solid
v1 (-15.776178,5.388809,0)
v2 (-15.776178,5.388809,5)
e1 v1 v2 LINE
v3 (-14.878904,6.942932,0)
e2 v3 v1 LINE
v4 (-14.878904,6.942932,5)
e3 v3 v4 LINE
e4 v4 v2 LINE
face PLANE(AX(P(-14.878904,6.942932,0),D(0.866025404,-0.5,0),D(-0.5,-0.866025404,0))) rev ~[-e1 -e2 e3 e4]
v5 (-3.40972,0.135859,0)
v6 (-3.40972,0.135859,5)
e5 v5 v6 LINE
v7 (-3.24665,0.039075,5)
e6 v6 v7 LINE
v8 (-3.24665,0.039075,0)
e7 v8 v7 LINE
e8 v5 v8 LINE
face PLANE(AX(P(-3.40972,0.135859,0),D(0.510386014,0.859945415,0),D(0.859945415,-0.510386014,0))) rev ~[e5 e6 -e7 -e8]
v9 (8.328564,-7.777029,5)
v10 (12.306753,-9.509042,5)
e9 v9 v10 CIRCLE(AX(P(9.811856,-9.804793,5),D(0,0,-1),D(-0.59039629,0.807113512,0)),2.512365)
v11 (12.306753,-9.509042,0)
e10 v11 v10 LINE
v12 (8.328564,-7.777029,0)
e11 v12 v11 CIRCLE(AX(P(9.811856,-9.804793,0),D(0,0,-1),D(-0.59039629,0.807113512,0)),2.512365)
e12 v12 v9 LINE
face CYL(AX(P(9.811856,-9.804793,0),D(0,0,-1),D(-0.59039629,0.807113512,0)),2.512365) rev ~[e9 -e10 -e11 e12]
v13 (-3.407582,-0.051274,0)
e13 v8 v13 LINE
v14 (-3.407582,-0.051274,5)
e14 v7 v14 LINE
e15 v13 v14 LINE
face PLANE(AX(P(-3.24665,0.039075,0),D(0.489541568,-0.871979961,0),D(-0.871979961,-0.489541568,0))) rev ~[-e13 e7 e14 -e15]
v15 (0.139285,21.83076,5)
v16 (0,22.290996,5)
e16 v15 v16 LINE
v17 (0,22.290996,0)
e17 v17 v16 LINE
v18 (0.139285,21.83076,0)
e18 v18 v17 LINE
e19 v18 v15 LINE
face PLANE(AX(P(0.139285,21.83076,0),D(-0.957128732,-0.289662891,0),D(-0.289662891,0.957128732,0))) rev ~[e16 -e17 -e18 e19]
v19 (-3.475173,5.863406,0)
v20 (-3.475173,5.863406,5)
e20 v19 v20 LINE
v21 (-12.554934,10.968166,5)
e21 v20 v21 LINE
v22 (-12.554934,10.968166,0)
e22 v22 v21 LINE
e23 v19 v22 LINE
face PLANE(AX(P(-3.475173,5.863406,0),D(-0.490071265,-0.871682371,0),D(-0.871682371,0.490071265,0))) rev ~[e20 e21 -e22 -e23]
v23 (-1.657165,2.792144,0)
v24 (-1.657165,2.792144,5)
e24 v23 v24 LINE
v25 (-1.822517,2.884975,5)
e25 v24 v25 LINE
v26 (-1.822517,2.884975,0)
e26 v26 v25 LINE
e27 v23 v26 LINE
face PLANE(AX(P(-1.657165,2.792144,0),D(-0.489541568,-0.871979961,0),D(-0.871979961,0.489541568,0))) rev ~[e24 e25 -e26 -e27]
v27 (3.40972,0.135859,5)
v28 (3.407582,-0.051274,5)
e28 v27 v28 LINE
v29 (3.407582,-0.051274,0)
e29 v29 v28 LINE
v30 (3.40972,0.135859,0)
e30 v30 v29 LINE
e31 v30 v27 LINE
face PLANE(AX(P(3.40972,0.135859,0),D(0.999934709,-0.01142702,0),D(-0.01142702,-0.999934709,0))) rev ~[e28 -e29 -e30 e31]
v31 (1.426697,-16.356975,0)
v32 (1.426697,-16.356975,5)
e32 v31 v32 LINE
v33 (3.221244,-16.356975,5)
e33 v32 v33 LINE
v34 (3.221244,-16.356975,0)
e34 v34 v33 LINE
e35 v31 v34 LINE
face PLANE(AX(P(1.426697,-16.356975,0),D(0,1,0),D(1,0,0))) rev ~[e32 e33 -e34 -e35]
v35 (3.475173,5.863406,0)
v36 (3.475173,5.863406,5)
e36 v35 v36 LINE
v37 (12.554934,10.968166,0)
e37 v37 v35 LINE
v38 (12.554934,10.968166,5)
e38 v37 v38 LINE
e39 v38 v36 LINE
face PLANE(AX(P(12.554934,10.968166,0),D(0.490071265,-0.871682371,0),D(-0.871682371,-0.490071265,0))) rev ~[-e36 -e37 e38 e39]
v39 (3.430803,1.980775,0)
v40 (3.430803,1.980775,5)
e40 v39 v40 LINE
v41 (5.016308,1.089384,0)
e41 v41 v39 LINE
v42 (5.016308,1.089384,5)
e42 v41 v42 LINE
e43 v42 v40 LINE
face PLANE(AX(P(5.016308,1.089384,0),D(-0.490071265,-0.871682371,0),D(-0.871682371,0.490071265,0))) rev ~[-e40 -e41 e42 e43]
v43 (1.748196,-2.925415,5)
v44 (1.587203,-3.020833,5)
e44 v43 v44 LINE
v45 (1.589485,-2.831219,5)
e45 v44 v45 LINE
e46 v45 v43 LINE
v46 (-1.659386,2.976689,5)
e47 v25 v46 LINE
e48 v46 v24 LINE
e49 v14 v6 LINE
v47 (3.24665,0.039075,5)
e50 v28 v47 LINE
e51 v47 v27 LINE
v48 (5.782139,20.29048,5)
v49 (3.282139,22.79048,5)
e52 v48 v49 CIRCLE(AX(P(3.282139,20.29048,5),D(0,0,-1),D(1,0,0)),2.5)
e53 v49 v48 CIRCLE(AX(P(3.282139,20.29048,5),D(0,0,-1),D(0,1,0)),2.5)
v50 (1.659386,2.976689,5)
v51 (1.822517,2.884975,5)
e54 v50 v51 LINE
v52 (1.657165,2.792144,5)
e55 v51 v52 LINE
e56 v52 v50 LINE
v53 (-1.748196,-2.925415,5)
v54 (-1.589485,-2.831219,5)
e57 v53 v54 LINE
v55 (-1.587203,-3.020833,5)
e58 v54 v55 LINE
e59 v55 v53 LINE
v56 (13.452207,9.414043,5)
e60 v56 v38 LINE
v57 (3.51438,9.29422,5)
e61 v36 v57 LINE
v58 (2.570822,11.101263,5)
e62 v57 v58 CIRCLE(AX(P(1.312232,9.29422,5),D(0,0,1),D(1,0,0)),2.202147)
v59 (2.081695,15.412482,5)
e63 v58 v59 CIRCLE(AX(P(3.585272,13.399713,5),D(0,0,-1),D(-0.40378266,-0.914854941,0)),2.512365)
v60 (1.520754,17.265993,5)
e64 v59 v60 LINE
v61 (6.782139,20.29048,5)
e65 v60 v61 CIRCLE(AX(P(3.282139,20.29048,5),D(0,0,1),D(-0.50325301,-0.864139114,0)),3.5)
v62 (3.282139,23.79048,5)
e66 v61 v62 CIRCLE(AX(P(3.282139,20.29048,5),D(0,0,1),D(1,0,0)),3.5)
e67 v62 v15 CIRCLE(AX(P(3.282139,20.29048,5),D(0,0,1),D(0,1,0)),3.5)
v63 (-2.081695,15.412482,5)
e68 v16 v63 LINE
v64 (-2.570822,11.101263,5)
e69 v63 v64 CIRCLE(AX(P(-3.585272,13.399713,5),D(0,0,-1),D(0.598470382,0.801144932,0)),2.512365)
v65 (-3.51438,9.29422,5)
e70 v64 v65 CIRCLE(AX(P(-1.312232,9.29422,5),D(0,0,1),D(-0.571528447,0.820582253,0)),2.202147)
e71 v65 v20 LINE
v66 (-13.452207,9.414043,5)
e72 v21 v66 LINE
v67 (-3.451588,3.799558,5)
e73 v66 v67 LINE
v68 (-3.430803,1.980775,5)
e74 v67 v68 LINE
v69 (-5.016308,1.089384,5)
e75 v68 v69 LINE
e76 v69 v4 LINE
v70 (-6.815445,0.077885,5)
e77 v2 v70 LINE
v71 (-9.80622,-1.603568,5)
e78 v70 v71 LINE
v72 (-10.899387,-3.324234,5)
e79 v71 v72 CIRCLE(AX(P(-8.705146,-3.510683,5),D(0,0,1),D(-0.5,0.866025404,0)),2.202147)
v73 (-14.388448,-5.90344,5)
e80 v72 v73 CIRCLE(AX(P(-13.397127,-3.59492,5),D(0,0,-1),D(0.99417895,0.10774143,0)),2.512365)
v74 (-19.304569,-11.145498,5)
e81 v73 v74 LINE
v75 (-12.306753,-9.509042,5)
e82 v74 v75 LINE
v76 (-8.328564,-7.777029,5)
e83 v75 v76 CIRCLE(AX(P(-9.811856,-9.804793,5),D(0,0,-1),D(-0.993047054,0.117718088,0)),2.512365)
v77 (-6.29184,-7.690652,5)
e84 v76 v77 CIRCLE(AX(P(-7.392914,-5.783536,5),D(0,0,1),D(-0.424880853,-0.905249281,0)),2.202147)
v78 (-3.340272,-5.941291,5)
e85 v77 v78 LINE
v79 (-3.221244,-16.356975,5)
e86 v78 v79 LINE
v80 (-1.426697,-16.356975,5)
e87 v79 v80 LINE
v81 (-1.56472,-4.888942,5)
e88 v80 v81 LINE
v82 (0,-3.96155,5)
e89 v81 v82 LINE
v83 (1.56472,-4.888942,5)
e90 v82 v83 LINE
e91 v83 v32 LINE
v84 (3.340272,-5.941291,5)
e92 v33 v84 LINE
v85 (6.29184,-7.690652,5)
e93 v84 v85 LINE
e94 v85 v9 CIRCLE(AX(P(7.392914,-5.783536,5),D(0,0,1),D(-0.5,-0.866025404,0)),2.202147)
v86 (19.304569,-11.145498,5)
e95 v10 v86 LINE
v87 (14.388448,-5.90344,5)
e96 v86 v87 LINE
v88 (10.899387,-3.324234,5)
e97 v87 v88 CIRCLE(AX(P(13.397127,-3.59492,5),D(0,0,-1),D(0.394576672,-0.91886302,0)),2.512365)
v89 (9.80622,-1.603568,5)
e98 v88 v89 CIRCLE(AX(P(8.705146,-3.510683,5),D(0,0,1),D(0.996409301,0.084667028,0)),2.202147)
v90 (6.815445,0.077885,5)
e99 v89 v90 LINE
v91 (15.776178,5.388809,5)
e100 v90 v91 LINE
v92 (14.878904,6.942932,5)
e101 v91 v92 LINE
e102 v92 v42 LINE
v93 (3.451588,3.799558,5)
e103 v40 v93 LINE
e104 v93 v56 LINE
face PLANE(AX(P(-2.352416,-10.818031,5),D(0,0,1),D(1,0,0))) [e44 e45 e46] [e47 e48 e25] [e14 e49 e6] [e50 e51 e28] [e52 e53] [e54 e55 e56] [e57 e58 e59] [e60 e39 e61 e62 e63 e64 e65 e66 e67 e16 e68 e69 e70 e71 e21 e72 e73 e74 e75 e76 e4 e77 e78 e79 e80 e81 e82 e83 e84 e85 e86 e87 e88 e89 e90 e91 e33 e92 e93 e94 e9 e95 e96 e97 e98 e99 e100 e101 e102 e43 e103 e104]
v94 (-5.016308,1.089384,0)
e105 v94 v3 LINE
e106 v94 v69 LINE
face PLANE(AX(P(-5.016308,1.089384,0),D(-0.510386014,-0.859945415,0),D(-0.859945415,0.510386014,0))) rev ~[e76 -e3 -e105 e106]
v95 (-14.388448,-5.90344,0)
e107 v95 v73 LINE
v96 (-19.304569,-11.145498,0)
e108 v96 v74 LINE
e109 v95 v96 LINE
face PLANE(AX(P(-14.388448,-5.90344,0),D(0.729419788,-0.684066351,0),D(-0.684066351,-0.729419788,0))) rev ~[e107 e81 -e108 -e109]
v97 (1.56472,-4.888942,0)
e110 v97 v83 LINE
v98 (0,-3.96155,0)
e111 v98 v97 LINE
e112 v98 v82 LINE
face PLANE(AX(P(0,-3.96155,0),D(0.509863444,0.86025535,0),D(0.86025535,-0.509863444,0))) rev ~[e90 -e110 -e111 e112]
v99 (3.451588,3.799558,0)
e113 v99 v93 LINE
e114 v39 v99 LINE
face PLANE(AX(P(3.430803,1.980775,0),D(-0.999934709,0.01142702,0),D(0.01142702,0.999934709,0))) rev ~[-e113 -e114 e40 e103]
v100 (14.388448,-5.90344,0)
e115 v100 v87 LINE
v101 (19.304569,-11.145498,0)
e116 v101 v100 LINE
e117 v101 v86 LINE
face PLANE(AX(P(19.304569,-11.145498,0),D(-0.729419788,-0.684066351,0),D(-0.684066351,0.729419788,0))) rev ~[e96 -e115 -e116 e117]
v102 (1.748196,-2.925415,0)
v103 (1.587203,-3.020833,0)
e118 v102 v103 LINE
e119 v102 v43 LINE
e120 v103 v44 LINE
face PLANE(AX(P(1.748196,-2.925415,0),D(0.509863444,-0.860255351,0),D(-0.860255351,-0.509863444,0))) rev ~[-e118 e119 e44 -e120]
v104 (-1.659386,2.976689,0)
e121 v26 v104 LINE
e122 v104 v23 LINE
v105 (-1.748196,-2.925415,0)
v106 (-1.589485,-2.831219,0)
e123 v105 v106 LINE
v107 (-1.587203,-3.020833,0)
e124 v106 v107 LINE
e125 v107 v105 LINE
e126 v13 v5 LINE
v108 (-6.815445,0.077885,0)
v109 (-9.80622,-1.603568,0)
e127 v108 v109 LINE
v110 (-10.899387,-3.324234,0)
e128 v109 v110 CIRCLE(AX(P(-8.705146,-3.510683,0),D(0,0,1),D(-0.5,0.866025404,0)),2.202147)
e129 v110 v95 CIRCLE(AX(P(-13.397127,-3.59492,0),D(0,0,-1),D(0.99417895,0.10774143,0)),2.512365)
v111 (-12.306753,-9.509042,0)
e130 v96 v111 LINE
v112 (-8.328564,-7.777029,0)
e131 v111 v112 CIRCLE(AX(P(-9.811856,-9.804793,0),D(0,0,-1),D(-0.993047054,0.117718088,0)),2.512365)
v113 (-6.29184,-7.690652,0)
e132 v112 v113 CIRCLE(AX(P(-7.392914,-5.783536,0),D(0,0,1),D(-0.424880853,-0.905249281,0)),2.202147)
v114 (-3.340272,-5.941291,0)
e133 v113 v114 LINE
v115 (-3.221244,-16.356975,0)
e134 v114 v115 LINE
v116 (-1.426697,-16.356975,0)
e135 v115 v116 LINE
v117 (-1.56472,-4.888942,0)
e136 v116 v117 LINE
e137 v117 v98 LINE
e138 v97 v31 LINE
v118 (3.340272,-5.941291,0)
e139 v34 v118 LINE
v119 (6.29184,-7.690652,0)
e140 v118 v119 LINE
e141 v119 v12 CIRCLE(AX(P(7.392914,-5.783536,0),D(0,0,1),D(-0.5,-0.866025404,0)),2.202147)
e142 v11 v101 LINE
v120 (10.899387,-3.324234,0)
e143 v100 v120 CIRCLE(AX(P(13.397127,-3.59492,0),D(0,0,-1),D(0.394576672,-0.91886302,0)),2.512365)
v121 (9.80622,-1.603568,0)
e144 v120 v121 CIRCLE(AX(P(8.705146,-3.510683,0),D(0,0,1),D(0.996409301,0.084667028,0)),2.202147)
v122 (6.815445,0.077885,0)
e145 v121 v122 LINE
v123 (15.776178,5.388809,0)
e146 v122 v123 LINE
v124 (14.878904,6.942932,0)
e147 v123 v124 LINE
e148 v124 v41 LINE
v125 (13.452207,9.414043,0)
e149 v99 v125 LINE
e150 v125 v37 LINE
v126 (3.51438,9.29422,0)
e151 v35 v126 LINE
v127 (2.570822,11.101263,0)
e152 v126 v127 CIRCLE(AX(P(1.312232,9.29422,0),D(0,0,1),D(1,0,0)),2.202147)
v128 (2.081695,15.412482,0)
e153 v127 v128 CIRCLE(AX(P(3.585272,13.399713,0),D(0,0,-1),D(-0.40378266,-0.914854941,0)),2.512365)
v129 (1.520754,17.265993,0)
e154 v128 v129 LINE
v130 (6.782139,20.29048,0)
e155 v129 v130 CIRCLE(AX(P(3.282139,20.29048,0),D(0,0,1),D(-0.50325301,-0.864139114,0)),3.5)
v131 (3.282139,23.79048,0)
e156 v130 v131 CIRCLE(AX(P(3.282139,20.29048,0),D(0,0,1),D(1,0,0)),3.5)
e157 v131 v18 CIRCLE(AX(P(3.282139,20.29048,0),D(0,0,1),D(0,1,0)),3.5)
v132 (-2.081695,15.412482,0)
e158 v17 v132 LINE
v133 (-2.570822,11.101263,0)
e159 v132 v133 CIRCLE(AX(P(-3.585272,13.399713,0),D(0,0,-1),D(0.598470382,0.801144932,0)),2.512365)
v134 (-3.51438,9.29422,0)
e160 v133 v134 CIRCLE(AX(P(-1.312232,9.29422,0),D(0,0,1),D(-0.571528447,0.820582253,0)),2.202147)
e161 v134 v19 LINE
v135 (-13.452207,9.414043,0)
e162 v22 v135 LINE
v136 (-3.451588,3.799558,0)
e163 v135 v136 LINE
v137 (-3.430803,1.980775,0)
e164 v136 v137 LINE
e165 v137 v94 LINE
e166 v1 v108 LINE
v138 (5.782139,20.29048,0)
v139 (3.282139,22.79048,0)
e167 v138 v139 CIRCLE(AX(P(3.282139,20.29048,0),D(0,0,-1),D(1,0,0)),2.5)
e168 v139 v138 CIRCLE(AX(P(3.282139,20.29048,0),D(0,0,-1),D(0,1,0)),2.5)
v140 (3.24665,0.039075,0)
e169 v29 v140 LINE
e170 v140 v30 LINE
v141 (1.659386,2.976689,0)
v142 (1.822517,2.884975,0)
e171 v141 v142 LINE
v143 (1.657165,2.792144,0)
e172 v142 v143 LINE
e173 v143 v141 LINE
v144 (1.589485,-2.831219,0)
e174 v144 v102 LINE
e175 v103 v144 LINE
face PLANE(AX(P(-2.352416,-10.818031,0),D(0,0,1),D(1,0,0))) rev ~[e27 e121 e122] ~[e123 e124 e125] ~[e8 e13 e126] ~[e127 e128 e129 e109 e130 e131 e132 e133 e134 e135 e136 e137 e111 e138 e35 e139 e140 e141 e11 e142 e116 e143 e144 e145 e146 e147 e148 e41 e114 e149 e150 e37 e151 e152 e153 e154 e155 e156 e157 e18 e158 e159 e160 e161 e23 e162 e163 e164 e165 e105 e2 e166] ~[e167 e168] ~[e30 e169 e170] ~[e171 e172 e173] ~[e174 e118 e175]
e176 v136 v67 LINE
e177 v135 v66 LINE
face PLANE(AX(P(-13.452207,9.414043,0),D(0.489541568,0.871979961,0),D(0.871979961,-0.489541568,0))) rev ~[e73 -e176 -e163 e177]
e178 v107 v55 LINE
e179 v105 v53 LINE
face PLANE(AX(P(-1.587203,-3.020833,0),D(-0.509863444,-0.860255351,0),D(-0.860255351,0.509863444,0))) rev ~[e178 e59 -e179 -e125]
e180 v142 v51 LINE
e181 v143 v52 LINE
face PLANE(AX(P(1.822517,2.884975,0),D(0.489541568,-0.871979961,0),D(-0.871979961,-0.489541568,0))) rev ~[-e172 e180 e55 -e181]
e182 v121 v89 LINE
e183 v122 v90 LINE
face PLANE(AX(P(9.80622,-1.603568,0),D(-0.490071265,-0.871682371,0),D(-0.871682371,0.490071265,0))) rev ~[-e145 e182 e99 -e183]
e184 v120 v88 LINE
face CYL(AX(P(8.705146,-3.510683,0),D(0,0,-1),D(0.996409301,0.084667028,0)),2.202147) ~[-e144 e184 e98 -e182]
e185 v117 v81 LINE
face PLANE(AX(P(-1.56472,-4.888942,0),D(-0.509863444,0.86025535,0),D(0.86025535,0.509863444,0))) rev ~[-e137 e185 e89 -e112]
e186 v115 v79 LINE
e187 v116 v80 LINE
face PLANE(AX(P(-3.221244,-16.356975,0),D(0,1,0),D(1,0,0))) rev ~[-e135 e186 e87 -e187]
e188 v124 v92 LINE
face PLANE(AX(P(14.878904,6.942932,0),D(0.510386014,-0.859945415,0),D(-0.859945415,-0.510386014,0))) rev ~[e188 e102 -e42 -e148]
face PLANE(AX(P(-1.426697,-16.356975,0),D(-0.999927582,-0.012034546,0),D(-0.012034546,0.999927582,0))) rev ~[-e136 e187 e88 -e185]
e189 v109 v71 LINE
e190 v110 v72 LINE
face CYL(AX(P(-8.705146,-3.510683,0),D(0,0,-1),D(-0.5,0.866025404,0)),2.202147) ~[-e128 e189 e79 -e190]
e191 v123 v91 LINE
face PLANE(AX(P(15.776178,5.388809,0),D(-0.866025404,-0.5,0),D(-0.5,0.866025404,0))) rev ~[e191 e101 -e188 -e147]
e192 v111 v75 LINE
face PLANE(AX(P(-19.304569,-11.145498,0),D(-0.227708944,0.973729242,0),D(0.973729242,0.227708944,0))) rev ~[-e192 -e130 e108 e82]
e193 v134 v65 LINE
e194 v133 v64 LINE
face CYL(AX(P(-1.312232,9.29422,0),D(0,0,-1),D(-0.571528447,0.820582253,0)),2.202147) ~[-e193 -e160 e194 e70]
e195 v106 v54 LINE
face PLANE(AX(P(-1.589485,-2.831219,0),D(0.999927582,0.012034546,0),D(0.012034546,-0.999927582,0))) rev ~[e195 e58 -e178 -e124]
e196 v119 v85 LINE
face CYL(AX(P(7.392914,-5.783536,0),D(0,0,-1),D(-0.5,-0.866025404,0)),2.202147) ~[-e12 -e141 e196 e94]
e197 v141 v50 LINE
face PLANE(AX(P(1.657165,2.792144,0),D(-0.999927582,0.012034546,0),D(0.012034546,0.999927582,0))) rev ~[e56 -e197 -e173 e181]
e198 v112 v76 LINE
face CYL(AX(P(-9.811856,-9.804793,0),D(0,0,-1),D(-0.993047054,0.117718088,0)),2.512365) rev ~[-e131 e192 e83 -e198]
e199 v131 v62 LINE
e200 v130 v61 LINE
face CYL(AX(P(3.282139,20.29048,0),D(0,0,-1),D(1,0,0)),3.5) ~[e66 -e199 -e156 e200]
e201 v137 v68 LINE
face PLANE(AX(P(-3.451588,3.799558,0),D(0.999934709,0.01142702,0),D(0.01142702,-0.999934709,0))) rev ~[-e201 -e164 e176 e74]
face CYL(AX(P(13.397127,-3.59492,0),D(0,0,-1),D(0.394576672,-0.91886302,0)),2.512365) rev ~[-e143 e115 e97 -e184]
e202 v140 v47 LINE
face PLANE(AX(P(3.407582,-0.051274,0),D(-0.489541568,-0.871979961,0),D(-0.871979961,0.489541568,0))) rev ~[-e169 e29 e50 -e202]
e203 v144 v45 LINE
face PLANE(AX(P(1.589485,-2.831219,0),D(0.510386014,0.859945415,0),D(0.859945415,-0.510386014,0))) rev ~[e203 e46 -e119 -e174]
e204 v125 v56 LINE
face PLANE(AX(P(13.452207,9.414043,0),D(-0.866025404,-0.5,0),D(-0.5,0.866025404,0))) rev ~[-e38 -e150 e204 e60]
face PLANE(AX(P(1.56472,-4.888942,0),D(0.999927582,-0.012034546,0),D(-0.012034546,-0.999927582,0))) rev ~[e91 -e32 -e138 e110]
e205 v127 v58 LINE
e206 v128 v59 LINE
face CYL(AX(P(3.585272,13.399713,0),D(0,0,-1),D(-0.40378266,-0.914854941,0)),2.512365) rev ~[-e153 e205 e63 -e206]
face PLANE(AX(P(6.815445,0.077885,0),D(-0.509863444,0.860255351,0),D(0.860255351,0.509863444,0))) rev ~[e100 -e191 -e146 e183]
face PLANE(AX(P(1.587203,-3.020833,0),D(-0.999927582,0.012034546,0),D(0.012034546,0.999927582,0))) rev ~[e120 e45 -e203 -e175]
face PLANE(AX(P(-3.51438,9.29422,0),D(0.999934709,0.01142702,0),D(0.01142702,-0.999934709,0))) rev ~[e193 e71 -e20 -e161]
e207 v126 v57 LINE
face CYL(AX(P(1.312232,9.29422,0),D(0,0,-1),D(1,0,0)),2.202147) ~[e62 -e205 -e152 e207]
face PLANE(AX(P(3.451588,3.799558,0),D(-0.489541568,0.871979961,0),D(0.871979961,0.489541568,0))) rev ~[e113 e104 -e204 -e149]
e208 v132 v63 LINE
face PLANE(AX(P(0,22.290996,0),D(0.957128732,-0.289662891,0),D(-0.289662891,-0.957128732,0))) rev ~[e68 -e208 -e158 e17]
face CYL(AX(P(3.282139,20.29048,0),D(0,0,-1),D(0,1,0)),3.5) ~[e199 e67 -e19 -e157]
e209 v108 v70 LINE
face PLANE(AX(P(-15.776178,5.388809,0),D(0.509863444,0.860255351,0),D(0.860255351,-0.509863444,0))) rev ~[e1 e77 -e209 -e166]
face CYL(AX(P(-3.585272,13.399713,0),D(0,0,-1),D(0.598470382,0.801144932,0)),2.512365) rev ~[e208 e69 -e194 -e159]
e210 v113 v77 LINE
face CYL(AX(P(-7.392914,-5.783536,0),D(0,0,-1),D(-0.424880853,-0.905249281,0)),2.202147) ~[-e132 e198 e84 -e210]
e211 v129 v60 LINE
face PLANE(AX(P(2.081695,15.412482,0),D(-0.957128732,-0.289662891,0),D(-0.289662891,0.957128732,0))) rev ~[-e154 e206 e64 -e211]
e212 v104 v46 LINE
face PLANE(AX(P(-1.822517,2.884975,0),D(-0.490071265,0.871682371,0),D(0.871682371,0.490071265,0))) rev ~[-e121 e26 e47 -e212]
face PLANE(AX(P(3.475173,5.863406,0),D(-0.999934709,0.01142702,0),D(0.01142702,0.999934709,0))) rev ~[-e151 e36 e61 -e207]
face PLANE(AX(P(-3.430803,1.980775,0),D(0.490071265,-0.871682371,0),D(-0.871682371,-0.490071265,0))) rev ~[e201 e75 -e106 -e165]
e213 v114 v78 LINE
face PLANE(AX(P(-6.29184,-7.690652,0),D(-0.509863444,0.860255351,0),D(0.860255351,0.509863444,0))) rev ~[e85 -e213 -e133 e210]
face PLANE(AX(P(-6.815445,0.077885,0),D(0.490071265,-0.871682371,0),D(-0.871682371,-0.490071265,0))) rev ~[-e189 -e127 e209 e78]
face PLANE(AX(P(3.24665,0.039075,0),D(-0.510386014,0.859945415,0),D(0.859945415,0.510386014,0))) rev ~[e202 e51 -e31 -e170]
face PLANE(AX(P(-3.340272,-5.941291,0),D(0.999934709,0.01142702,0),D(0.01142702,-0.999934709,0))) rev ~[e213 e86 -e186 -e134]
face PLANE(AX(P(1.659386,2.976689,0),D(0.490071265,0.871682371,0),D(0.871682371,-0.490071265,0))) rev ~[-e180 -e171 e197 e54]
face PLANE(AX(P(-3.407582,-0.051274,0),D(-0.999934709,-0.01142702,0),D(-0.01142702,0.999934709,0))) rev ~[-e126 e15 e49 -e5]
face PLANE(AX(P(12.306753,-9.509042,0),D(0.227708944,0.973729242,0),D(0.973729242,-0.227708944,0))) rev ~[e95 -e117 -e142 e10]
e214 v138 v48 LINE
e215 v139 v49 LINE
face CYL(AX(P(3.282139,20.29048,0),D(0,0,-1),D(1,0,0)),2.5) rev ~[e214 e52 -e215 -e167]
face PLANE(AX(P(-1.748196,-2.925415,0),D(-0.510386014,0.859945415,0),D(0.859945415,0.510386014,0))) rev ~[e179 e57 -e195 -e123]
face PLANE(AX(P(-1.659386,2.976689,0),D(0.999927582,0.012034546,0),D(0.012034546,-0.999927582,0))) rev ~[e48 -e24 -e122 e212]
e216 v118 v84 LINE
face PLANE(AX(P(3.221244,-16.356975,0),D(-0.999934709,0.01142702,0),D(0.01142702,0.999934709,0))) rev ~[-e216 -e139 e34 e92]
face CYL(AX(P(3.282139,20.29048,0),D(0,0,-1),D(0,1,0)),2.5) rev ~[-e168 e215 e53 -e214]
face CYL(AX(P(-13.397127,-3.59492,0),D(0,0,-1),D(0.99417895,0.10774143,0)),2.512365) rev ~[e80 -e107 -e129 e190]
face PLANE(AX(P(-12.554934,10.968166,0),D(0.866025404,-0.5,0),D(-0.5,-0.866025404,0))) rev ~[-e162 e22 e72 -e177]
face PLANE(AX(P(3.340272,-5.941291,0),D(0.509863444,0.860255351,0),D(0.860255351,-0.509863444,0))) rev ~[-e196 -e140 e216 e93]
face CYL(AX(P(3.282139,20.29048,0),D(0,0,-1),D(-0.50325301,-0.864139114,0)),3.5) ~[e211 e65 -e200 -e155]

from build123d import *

# Parameters (mm, degrees)
F1_DEPTH = 5


with BuildPart() as f1:
    # F0 (on Top) → F1 (new body)
    with BuildSketch(Plane.XY):
        Polygon((-3.2212437924, -16.3569749735), (-1.426697038, -16.3569749735), (-1.5647196115, -4.8889417369), (-3.3402717926, -5.9412910774), align=None)
        Polygon((-3.3402717926, -5.9412910774), (-1.5647196115, -4.8889417369), (-1.5872030757, -3.0208334399), (-1.7481957552, -2.9254149319), (-3.3637788423, -3.8842792944), align=None)
        Polygon((-1.5872030757, -3.0208334399), (-1.5647196115, -4.8889417369), (0, -3.9615504336), align=None)
        with BuildLine():
            Line((-6.291840412, -7.6906518244), (-3.3402717926, -5.9412910774))
            Line((-3.3402717926, -5.9412910774), (-3.3637788423, -3.8842792944))
            Line((-3.3637788423, -3.8842792944), (-6.6341785068, -5.8252934798))
            ThreePointArc((-6.6341785068, -5.8252934798), (-7.9635745999, -6.012913211), (-9.0511064637, -5.2256587533))
            ThreePointArc((-9.0511064637, -5.2256587533), (-9.1891228915, -3.8902013029), (-8.3619413914, -2.8327203802))
            Line((-8.3619413914, -2.8327203802), (-5.0457739655, -0.9709782829))
            Line((-5.0457739655, -0.9709782829), (-6.8154449006, 0.0778853107))
            Line((-6.8154449006, 0.0778853107), (-9.8062200576, -1.6035677211))
            ThreePointArc((-9.8062200576, -1.6035677211), (-10.5638950235, -2.3297910167), (-10.8993865535, -3.3242341082))
            ThreePointArc((-10.8993865535, -3.3242341082), (-11.9036748048, -5.6152118935), (-14.3884482062, -5.9034396652))
            Line((-14.3884482062, -5.9034396652), (-19.3045690198, -11.1454981202))
            Line((-19.3045690198, -11.1454981202), (-12.3067528228, -9.509041835))
            ThreePointArc((-12.3067528228, -9.509041835), (-10.8147535498, -7.5012788326), (-8.3285644626, -7.7770285869))
            ThreePointArc((-8.3285644626, -7.7770285869), (-7.2996057177, -7.9837059449), (-6.291840412, -7.6906518244))
        make_face()
        Polygon((-1.589485169, -2.8312186468), (-1.5872030757, -3.0208334399), (0, -3.9615504336), (1.5872030757, -3.0208334399), (1.589485169, -2.8312186468), (0, -1.8878436538), align=None)
        Polygon((1.5872030757, -3.0208334399), (0, -3.9615504336), (1.5647196115, -4.8889417369), align=None)
        Polygon((1.7481957552, -2.9254149319), (1.5872030757, -3.0208334399), (1.5647196115, -4.8889417369), (3.3402717926, -5.9412910774), (3.3637788423, -3.8842792944), align=None)
        Polygon((3.3402717926, -5.9412910774), (1.5647196115, -4.8889417369), (1.426697038, -16.3569749735), (3.2212437924, -16.3569749735), align=None)
        with BuildLine():
            Line((3.3637788423, -3.8842792944), (3.3402717926, -5.9412910774))
            Line((3.3402717926, -5.9412910774), (6.291840412, -7.6906518244))
            ThreePointArc((6.291840412, -7.6906518244), (7.2996057177, -7.9837059449), (8.3285644626, -7.7770285869))
            ThreePointArc((8.3285644626, -7.7770285869), (10.8147535498, -7.5012788326), (12.3067528228, -9.509041835))
            Line((12.3067528228, -9.509041835), (19.3045690198, -11.1454981202))
            Line((19.3045690198, -11.1454981202), (14.3884482062, -5.9034396652))
            ThreePointArc((14.3884482062, -5.9034396652), (11.9036748048, -5.6152118935), (10.8993865535, -3.3242341082))
            ThreePointArc((10.8993865535, -3.3242341082), (10.5638950235, -2.3297910167), (9.8062200576, -1.6035677211))
            Line((9.8062200576, -1.6035677211), (6.8154449006, 0.0778853107))
            Line((6.8154449006, 0.0778853107), (5.0457739655, -0.9709782829))
            Line((5.0457739655, -0.9709782829), (8.3619413914, -2.8327203802))
            ThreePointArc((8.3619413914, -2.8327203802), (9.1891228915, -3.8902013029), (9.0511064637, -5.2256587533))
            ThreePointArc((9.0511064637, -5.2256587533), (7.9635745999, -6.012913211), (6.6341785068, -5.8252934798))
            Line((6.6341785068, -5.8252934798), (3.3637788423, -3.8842792944))
        make_face()
        Polygon((-5.0457739655, -0.9709782829), (-3.4075815252, -0.0512744689), (-3.4097200374, 0.1358585354), (-5.0163075475, 1.0893839351), (-6.8154449006, 0.0778853107), align=None)
        Polygon((-3.2466498563, 0.0390747881), (-1.6349205626, 0.9439218269), (-1.6571646873, 2.7921438587), (-1.8225169617, 2.8849749045), (-3.4308033139, 1.9807752168), (-3.4097200374, 0.1358585354), align=None)
        Polygon((-5.0163075475, 1.0893839351), (-3.4097200374, 0.1358585354), (-3.4308033139, 1.9807752168), align=None)
        Polygon((-15.7761777523, 5.3888085307), (-6.8154449006, 0.0778853107), (-5.0163075475, 1.0893839351), (-14.8789043751, 6.9429316084), align=None)
        Polygon((1.6571646873, 2.7921438587), (1.6349205626, 0.9439218269), (3.2466498563, 0.0390747881), (3.4097200374, 0.1358585354), (3.4308033139, 1.9807752168), (1.8225169617, 2.8849749045), align=None)
        Polygon((3.4097200374, 0.1358585354), (3.4075815252, -0.0512744689), (5.0457739655, -0.9709782829), (6.8154449006, 0.0778853107), (5.0163075475, 1.0893839351), align=None)
        Polygon((-3.451587936, 3.7995578018), (-3.4308033139, 1.9807752168), (-1.8225169617, 2.8849749045), align=None)
        Polygon((-1.8225169617, 2.8849749045), (-1.65938577, 2.9766894007), (-1.6819951232, 4.8552575774), (-3.475173108, 5.8634057666), (-3.451587936, 3.7995578018), align=None)
        Polygon((3.4308033139, 1.9807752168), (3.4097200374, 0.1358585354), (5.0163075475, 1.0893839351), align=None)
        Polygon((5.0163075475, 1.0893839351), (6.8154449006, 0.0778853107), (15.7761777523, 5.3888085307), (14.8789043751, 6.9429316084), align=None)
        Polygon((-13.4522073371, 9.4140433651), (-3.451587936, 3.7995578018), (-3.475173108, 5.8634057666), (-12.5549339599, 10.9681664428), align=None)
        with BuildLine():
            Line((-3.475173108, 5.8634057666), (-1.6819951232, 4.8552575774))
            Line((-1.6819951232, 4.8552575774), (-1.7277628846, 8.65801386))
            ThreePointArc((-1.7277628846, 8.65801386), (-1.2255482916, 9.903114514), (0, 10.4513175066))
            ThreePointArc((0, 10.4513175066), (1.2255482916, 9.903114514), (1.7277628846, 8.65801386))
            Line((1.7277628846, 8.65801386), (1.6819951232, 4.8552575774))
            Line((1.6819951232, 4.8552575774), (3.475173108, 5.8634057666))
            Line((3.475173108, 5.8634057666), (3.5143796456, 9.2942195456))
            ThreePointArc((3.5143796456, 9.2942195456), (3.2642893058, 10.3134969616), (2.570822091, 11.1012626951))
            ThreePointArc((2.570822091, 11.1012626951), (1.088921255, 13.1164907261), (2.0816953833, 15.4124815002))
            Line((2.0816953833, 15.4124815002), (1.5207536328, 17.265992888))
            ThreePointArc((1.5207536328, 17.265992888), (-0.067811393, 19.2766596681), (0.1392845209, 21.8307604932))
            Line((0.1392845209, 21.8307604932), (0, 22.2909962404))
            Line((0, 22.2909962404), (-2.0816953833, 15.4124815002))
            ThreePointArc((-2.0816953833, 15.4124815002), (-1.088921255, 13.1164907261), (-2.570822091, 11.1012626951))
            ThreePointArc((-2.570822091, 11.1012626951), (-3.2642893058, 10.3134969616), (-3.5143796456, 9.2942195456))
            Line((-3.5143796456, 9.2942195456), (-3.475173108, 5.8634057666))
        make_face()
        Polygon((1.6819951232, 4.8552575774), (1.65938577, 2.9766894007), (1.8225169617, 2.8849749045), (3.451587936, 3.7995578018), (3.475173108, 5.8634057666), align=None)
        Polygon((3.451587936, 3.7995578018), (1.8225169617, 2.8849749045), (3.4308033139, 1.9807752168), align=None)
        Polygon((3.475173108, 5.8634057666), (3.451587936, 3.7995578018), (13.4522073371, 9.4140433651), (12.5549339599, 10.9681664428), align=None)
        with BuildLine():
            ThreePointArc((3.2821391693, 23.7904797853), (1.4302458783, 23.2604109695), (0.1392845209, 21.8307604932))
            ThreePointArc((0.1392845209, 21.8307604932), (-0.067811393, 19.2766596681), (1.5207536328, 17.265992888))
            ThreePointArc((1.5207536328, 17.265992888), (5.0264371115, 17.2561059308), (6.7821391693, 20.2904797853))
            ThreePointArc((6.7821391693, 20.2904797853), (5.7570129035, 22.7653535195), (3.2821391693, 23.7904797853))
        make_face()
        with BuildLine():
            ThreePointArc((5.7821391693, 20.2904797853), (1.5143722164, 18.5227128323), (3.2821391693, 22.7904797853))
            ThreePointArc((3.2821391693, 22.7904797853), (5.0499061223, 22.0582467383), (5.7821391693, 20.2904797853))
        make_face(mode=Mode.SUBTRACT)
        Polygon((-1.6819951232, 4.8552575774), (-1.65938577, 2.9766894007), (0, 3.9096178515), align=None)
        Polygon((-1.65938577, 2.9766894007), (-1.6571646873, 2.7921438587), (0, 1.8617887637), (1.6571646873, 2.7921438587), (1.65938577, 2.9766894007), (0, 3.9096178515), align=None)
        Polygon((1.6819951232, 4.8552575774), (0, 3.9096178515), (1.65938577, 2.9766894007), align=None)
        Polygon((-5.0457739655, -0.9709782829), (-3.3858283785, -1.9548089258), (-3.4075815252, -0.0512744689), align=None)
        Polygon((-1.7481957552, -2.9254149319), (-1.589485169, -2.8312186468), (-1.6123563658, -0.9308943818), (-3.2466498563, 0.0390747881), (-3.4075815252, -0.0512744689), (-3.3858283785, -1.9548089258), align=None)
        Polygon((-3.3858283785, -1.9548089258), (-3.3637788423, -3.8842792944), (-1.7481957552, -2.9254149319), align=None)
        Polygon((-1.6571646873, 2.7921438587), (-1.6349205626, 0.9439218269), (0, 1.8617887637), align=None)
        Polygon((-3.2466498563, 0.0390747881), (-1.6123563658, -0.9308943818), (-1.6349205626, 0.9439218269), align=None)
        Polygon((1.6349205626, 0.9439218269), (1.6123563658, -0.9308943818), (3.2466498563, 0.0390747881), align=None)
        Polygon((1.6571646873, 2.7921438587), (0, 1.8617887637), (1.6349205626, 0.9439218269), align=None)
        Polygon((3.4075815252, -0.0512744689), (3.3858283785, -1.9548089258), (5.0457739655, -0.9709782829), align=None)
        Polygon((1.6123563658, -0.9308943818), (1.589485169, -2.8312186468), (1.7481957552, -2.9254149319), (3.3858283785, -1.9548089258), (3.4075815252, -0.0512744689), (3.2466498563, 0.0390747881), align=None)
        Polygon((1.6123563658, -0.9308943818), (0, -1.8878436538), (1.589485169, -2.8312186468), align=None)
        Polygon((-1.6123563658, -0.9308943818), (-1.589485169, -2.8312186468), (0, -1.8878436538), align=None)
        Polygon((3.3858283785, -1.9548089258), (1.7481957552, -2.9254149319), (3.3637788423, -3.8842792944), align=None)
        with BuildLine():
            Line((-1.7277628846, 8.65801386), (-1.6819951232, 4.8552575774))
            Line((-1.6819951232, 4.8552575774), (0, 3.9096178515))
            Line((0, 3.9096178515), (1.6819951232, 4.8552575774))
            Line((1.6819951232, 4.8552575774), (1.7277628846, 8.65801386))
            ThreePointArc((1.7277628846, 8.65801386), (1.2255482916, 9.903114514), (0, 10.4513175066))
            ThreePointArc((0, 10.4513175066), (-1.2255482916, 9.903114514), (-1.7277628846, 8.65801386))
        make_face()
        Polygon((-1.6349205626, 0.9439218269), (-1.6123563658, -0.9308943818), (0, -1.8878436538), (1.6123563658, -0.9308943818), (1.6349205626, 0.9439218269), (0, 1.8617887637), align=None)
        with BuildLine():
            Line((-6.6341785068, -5.8252934798), (-3.3637788423, -3.8842792944))
            Line((-3.3637788423, -3.8842792944), (-3.3858283785, -1.9548089258))
            Line((-3.3858283785, -1.9548089258), (-5.0457739655, -0.9709782829))
            Line((-5.0457739655, -0.9709782829), (-8.3619413914, -2.8327203802))
            ThreePointArc((-8.3619413914, -2.8327203802), (-9.1891228915, -3.8902013029), (-9.0511064637, -5.2256587533))
            ThreePointArc((-9.0511064637, -5.2256587533), (-7.9635745999, -6.012913211), (-6.6341785068, -5.8252934798))
        make_face()
        with BuildLine():
            Line((5.0457739655, -0.9709782829), (3.3858283785, -1.9548089258))
            Line((3.3858283785, -1.9548089258), (3.3637788423, -3.8842792944))
            Line((3.3637788423, -3.8842792944), (6.6341785068, -5.8252934798))
            ThreePointArc((6.6341785068, -5.8252934798), (7.9635745999, -6.012913211), (9.0511064637, -5.2256587533))
            ThreePointArc((9.0511064637, -5.2256587533), (9.1891228915, -3.8902013029), (8.3619413914, -2.8327203802))
            Line((8.3619413914, -2.8327203802), (5.0457739655, -0.9709782829))
        make_face()
    extrude(amount=F1_DEPTH)


solid = f1.part
